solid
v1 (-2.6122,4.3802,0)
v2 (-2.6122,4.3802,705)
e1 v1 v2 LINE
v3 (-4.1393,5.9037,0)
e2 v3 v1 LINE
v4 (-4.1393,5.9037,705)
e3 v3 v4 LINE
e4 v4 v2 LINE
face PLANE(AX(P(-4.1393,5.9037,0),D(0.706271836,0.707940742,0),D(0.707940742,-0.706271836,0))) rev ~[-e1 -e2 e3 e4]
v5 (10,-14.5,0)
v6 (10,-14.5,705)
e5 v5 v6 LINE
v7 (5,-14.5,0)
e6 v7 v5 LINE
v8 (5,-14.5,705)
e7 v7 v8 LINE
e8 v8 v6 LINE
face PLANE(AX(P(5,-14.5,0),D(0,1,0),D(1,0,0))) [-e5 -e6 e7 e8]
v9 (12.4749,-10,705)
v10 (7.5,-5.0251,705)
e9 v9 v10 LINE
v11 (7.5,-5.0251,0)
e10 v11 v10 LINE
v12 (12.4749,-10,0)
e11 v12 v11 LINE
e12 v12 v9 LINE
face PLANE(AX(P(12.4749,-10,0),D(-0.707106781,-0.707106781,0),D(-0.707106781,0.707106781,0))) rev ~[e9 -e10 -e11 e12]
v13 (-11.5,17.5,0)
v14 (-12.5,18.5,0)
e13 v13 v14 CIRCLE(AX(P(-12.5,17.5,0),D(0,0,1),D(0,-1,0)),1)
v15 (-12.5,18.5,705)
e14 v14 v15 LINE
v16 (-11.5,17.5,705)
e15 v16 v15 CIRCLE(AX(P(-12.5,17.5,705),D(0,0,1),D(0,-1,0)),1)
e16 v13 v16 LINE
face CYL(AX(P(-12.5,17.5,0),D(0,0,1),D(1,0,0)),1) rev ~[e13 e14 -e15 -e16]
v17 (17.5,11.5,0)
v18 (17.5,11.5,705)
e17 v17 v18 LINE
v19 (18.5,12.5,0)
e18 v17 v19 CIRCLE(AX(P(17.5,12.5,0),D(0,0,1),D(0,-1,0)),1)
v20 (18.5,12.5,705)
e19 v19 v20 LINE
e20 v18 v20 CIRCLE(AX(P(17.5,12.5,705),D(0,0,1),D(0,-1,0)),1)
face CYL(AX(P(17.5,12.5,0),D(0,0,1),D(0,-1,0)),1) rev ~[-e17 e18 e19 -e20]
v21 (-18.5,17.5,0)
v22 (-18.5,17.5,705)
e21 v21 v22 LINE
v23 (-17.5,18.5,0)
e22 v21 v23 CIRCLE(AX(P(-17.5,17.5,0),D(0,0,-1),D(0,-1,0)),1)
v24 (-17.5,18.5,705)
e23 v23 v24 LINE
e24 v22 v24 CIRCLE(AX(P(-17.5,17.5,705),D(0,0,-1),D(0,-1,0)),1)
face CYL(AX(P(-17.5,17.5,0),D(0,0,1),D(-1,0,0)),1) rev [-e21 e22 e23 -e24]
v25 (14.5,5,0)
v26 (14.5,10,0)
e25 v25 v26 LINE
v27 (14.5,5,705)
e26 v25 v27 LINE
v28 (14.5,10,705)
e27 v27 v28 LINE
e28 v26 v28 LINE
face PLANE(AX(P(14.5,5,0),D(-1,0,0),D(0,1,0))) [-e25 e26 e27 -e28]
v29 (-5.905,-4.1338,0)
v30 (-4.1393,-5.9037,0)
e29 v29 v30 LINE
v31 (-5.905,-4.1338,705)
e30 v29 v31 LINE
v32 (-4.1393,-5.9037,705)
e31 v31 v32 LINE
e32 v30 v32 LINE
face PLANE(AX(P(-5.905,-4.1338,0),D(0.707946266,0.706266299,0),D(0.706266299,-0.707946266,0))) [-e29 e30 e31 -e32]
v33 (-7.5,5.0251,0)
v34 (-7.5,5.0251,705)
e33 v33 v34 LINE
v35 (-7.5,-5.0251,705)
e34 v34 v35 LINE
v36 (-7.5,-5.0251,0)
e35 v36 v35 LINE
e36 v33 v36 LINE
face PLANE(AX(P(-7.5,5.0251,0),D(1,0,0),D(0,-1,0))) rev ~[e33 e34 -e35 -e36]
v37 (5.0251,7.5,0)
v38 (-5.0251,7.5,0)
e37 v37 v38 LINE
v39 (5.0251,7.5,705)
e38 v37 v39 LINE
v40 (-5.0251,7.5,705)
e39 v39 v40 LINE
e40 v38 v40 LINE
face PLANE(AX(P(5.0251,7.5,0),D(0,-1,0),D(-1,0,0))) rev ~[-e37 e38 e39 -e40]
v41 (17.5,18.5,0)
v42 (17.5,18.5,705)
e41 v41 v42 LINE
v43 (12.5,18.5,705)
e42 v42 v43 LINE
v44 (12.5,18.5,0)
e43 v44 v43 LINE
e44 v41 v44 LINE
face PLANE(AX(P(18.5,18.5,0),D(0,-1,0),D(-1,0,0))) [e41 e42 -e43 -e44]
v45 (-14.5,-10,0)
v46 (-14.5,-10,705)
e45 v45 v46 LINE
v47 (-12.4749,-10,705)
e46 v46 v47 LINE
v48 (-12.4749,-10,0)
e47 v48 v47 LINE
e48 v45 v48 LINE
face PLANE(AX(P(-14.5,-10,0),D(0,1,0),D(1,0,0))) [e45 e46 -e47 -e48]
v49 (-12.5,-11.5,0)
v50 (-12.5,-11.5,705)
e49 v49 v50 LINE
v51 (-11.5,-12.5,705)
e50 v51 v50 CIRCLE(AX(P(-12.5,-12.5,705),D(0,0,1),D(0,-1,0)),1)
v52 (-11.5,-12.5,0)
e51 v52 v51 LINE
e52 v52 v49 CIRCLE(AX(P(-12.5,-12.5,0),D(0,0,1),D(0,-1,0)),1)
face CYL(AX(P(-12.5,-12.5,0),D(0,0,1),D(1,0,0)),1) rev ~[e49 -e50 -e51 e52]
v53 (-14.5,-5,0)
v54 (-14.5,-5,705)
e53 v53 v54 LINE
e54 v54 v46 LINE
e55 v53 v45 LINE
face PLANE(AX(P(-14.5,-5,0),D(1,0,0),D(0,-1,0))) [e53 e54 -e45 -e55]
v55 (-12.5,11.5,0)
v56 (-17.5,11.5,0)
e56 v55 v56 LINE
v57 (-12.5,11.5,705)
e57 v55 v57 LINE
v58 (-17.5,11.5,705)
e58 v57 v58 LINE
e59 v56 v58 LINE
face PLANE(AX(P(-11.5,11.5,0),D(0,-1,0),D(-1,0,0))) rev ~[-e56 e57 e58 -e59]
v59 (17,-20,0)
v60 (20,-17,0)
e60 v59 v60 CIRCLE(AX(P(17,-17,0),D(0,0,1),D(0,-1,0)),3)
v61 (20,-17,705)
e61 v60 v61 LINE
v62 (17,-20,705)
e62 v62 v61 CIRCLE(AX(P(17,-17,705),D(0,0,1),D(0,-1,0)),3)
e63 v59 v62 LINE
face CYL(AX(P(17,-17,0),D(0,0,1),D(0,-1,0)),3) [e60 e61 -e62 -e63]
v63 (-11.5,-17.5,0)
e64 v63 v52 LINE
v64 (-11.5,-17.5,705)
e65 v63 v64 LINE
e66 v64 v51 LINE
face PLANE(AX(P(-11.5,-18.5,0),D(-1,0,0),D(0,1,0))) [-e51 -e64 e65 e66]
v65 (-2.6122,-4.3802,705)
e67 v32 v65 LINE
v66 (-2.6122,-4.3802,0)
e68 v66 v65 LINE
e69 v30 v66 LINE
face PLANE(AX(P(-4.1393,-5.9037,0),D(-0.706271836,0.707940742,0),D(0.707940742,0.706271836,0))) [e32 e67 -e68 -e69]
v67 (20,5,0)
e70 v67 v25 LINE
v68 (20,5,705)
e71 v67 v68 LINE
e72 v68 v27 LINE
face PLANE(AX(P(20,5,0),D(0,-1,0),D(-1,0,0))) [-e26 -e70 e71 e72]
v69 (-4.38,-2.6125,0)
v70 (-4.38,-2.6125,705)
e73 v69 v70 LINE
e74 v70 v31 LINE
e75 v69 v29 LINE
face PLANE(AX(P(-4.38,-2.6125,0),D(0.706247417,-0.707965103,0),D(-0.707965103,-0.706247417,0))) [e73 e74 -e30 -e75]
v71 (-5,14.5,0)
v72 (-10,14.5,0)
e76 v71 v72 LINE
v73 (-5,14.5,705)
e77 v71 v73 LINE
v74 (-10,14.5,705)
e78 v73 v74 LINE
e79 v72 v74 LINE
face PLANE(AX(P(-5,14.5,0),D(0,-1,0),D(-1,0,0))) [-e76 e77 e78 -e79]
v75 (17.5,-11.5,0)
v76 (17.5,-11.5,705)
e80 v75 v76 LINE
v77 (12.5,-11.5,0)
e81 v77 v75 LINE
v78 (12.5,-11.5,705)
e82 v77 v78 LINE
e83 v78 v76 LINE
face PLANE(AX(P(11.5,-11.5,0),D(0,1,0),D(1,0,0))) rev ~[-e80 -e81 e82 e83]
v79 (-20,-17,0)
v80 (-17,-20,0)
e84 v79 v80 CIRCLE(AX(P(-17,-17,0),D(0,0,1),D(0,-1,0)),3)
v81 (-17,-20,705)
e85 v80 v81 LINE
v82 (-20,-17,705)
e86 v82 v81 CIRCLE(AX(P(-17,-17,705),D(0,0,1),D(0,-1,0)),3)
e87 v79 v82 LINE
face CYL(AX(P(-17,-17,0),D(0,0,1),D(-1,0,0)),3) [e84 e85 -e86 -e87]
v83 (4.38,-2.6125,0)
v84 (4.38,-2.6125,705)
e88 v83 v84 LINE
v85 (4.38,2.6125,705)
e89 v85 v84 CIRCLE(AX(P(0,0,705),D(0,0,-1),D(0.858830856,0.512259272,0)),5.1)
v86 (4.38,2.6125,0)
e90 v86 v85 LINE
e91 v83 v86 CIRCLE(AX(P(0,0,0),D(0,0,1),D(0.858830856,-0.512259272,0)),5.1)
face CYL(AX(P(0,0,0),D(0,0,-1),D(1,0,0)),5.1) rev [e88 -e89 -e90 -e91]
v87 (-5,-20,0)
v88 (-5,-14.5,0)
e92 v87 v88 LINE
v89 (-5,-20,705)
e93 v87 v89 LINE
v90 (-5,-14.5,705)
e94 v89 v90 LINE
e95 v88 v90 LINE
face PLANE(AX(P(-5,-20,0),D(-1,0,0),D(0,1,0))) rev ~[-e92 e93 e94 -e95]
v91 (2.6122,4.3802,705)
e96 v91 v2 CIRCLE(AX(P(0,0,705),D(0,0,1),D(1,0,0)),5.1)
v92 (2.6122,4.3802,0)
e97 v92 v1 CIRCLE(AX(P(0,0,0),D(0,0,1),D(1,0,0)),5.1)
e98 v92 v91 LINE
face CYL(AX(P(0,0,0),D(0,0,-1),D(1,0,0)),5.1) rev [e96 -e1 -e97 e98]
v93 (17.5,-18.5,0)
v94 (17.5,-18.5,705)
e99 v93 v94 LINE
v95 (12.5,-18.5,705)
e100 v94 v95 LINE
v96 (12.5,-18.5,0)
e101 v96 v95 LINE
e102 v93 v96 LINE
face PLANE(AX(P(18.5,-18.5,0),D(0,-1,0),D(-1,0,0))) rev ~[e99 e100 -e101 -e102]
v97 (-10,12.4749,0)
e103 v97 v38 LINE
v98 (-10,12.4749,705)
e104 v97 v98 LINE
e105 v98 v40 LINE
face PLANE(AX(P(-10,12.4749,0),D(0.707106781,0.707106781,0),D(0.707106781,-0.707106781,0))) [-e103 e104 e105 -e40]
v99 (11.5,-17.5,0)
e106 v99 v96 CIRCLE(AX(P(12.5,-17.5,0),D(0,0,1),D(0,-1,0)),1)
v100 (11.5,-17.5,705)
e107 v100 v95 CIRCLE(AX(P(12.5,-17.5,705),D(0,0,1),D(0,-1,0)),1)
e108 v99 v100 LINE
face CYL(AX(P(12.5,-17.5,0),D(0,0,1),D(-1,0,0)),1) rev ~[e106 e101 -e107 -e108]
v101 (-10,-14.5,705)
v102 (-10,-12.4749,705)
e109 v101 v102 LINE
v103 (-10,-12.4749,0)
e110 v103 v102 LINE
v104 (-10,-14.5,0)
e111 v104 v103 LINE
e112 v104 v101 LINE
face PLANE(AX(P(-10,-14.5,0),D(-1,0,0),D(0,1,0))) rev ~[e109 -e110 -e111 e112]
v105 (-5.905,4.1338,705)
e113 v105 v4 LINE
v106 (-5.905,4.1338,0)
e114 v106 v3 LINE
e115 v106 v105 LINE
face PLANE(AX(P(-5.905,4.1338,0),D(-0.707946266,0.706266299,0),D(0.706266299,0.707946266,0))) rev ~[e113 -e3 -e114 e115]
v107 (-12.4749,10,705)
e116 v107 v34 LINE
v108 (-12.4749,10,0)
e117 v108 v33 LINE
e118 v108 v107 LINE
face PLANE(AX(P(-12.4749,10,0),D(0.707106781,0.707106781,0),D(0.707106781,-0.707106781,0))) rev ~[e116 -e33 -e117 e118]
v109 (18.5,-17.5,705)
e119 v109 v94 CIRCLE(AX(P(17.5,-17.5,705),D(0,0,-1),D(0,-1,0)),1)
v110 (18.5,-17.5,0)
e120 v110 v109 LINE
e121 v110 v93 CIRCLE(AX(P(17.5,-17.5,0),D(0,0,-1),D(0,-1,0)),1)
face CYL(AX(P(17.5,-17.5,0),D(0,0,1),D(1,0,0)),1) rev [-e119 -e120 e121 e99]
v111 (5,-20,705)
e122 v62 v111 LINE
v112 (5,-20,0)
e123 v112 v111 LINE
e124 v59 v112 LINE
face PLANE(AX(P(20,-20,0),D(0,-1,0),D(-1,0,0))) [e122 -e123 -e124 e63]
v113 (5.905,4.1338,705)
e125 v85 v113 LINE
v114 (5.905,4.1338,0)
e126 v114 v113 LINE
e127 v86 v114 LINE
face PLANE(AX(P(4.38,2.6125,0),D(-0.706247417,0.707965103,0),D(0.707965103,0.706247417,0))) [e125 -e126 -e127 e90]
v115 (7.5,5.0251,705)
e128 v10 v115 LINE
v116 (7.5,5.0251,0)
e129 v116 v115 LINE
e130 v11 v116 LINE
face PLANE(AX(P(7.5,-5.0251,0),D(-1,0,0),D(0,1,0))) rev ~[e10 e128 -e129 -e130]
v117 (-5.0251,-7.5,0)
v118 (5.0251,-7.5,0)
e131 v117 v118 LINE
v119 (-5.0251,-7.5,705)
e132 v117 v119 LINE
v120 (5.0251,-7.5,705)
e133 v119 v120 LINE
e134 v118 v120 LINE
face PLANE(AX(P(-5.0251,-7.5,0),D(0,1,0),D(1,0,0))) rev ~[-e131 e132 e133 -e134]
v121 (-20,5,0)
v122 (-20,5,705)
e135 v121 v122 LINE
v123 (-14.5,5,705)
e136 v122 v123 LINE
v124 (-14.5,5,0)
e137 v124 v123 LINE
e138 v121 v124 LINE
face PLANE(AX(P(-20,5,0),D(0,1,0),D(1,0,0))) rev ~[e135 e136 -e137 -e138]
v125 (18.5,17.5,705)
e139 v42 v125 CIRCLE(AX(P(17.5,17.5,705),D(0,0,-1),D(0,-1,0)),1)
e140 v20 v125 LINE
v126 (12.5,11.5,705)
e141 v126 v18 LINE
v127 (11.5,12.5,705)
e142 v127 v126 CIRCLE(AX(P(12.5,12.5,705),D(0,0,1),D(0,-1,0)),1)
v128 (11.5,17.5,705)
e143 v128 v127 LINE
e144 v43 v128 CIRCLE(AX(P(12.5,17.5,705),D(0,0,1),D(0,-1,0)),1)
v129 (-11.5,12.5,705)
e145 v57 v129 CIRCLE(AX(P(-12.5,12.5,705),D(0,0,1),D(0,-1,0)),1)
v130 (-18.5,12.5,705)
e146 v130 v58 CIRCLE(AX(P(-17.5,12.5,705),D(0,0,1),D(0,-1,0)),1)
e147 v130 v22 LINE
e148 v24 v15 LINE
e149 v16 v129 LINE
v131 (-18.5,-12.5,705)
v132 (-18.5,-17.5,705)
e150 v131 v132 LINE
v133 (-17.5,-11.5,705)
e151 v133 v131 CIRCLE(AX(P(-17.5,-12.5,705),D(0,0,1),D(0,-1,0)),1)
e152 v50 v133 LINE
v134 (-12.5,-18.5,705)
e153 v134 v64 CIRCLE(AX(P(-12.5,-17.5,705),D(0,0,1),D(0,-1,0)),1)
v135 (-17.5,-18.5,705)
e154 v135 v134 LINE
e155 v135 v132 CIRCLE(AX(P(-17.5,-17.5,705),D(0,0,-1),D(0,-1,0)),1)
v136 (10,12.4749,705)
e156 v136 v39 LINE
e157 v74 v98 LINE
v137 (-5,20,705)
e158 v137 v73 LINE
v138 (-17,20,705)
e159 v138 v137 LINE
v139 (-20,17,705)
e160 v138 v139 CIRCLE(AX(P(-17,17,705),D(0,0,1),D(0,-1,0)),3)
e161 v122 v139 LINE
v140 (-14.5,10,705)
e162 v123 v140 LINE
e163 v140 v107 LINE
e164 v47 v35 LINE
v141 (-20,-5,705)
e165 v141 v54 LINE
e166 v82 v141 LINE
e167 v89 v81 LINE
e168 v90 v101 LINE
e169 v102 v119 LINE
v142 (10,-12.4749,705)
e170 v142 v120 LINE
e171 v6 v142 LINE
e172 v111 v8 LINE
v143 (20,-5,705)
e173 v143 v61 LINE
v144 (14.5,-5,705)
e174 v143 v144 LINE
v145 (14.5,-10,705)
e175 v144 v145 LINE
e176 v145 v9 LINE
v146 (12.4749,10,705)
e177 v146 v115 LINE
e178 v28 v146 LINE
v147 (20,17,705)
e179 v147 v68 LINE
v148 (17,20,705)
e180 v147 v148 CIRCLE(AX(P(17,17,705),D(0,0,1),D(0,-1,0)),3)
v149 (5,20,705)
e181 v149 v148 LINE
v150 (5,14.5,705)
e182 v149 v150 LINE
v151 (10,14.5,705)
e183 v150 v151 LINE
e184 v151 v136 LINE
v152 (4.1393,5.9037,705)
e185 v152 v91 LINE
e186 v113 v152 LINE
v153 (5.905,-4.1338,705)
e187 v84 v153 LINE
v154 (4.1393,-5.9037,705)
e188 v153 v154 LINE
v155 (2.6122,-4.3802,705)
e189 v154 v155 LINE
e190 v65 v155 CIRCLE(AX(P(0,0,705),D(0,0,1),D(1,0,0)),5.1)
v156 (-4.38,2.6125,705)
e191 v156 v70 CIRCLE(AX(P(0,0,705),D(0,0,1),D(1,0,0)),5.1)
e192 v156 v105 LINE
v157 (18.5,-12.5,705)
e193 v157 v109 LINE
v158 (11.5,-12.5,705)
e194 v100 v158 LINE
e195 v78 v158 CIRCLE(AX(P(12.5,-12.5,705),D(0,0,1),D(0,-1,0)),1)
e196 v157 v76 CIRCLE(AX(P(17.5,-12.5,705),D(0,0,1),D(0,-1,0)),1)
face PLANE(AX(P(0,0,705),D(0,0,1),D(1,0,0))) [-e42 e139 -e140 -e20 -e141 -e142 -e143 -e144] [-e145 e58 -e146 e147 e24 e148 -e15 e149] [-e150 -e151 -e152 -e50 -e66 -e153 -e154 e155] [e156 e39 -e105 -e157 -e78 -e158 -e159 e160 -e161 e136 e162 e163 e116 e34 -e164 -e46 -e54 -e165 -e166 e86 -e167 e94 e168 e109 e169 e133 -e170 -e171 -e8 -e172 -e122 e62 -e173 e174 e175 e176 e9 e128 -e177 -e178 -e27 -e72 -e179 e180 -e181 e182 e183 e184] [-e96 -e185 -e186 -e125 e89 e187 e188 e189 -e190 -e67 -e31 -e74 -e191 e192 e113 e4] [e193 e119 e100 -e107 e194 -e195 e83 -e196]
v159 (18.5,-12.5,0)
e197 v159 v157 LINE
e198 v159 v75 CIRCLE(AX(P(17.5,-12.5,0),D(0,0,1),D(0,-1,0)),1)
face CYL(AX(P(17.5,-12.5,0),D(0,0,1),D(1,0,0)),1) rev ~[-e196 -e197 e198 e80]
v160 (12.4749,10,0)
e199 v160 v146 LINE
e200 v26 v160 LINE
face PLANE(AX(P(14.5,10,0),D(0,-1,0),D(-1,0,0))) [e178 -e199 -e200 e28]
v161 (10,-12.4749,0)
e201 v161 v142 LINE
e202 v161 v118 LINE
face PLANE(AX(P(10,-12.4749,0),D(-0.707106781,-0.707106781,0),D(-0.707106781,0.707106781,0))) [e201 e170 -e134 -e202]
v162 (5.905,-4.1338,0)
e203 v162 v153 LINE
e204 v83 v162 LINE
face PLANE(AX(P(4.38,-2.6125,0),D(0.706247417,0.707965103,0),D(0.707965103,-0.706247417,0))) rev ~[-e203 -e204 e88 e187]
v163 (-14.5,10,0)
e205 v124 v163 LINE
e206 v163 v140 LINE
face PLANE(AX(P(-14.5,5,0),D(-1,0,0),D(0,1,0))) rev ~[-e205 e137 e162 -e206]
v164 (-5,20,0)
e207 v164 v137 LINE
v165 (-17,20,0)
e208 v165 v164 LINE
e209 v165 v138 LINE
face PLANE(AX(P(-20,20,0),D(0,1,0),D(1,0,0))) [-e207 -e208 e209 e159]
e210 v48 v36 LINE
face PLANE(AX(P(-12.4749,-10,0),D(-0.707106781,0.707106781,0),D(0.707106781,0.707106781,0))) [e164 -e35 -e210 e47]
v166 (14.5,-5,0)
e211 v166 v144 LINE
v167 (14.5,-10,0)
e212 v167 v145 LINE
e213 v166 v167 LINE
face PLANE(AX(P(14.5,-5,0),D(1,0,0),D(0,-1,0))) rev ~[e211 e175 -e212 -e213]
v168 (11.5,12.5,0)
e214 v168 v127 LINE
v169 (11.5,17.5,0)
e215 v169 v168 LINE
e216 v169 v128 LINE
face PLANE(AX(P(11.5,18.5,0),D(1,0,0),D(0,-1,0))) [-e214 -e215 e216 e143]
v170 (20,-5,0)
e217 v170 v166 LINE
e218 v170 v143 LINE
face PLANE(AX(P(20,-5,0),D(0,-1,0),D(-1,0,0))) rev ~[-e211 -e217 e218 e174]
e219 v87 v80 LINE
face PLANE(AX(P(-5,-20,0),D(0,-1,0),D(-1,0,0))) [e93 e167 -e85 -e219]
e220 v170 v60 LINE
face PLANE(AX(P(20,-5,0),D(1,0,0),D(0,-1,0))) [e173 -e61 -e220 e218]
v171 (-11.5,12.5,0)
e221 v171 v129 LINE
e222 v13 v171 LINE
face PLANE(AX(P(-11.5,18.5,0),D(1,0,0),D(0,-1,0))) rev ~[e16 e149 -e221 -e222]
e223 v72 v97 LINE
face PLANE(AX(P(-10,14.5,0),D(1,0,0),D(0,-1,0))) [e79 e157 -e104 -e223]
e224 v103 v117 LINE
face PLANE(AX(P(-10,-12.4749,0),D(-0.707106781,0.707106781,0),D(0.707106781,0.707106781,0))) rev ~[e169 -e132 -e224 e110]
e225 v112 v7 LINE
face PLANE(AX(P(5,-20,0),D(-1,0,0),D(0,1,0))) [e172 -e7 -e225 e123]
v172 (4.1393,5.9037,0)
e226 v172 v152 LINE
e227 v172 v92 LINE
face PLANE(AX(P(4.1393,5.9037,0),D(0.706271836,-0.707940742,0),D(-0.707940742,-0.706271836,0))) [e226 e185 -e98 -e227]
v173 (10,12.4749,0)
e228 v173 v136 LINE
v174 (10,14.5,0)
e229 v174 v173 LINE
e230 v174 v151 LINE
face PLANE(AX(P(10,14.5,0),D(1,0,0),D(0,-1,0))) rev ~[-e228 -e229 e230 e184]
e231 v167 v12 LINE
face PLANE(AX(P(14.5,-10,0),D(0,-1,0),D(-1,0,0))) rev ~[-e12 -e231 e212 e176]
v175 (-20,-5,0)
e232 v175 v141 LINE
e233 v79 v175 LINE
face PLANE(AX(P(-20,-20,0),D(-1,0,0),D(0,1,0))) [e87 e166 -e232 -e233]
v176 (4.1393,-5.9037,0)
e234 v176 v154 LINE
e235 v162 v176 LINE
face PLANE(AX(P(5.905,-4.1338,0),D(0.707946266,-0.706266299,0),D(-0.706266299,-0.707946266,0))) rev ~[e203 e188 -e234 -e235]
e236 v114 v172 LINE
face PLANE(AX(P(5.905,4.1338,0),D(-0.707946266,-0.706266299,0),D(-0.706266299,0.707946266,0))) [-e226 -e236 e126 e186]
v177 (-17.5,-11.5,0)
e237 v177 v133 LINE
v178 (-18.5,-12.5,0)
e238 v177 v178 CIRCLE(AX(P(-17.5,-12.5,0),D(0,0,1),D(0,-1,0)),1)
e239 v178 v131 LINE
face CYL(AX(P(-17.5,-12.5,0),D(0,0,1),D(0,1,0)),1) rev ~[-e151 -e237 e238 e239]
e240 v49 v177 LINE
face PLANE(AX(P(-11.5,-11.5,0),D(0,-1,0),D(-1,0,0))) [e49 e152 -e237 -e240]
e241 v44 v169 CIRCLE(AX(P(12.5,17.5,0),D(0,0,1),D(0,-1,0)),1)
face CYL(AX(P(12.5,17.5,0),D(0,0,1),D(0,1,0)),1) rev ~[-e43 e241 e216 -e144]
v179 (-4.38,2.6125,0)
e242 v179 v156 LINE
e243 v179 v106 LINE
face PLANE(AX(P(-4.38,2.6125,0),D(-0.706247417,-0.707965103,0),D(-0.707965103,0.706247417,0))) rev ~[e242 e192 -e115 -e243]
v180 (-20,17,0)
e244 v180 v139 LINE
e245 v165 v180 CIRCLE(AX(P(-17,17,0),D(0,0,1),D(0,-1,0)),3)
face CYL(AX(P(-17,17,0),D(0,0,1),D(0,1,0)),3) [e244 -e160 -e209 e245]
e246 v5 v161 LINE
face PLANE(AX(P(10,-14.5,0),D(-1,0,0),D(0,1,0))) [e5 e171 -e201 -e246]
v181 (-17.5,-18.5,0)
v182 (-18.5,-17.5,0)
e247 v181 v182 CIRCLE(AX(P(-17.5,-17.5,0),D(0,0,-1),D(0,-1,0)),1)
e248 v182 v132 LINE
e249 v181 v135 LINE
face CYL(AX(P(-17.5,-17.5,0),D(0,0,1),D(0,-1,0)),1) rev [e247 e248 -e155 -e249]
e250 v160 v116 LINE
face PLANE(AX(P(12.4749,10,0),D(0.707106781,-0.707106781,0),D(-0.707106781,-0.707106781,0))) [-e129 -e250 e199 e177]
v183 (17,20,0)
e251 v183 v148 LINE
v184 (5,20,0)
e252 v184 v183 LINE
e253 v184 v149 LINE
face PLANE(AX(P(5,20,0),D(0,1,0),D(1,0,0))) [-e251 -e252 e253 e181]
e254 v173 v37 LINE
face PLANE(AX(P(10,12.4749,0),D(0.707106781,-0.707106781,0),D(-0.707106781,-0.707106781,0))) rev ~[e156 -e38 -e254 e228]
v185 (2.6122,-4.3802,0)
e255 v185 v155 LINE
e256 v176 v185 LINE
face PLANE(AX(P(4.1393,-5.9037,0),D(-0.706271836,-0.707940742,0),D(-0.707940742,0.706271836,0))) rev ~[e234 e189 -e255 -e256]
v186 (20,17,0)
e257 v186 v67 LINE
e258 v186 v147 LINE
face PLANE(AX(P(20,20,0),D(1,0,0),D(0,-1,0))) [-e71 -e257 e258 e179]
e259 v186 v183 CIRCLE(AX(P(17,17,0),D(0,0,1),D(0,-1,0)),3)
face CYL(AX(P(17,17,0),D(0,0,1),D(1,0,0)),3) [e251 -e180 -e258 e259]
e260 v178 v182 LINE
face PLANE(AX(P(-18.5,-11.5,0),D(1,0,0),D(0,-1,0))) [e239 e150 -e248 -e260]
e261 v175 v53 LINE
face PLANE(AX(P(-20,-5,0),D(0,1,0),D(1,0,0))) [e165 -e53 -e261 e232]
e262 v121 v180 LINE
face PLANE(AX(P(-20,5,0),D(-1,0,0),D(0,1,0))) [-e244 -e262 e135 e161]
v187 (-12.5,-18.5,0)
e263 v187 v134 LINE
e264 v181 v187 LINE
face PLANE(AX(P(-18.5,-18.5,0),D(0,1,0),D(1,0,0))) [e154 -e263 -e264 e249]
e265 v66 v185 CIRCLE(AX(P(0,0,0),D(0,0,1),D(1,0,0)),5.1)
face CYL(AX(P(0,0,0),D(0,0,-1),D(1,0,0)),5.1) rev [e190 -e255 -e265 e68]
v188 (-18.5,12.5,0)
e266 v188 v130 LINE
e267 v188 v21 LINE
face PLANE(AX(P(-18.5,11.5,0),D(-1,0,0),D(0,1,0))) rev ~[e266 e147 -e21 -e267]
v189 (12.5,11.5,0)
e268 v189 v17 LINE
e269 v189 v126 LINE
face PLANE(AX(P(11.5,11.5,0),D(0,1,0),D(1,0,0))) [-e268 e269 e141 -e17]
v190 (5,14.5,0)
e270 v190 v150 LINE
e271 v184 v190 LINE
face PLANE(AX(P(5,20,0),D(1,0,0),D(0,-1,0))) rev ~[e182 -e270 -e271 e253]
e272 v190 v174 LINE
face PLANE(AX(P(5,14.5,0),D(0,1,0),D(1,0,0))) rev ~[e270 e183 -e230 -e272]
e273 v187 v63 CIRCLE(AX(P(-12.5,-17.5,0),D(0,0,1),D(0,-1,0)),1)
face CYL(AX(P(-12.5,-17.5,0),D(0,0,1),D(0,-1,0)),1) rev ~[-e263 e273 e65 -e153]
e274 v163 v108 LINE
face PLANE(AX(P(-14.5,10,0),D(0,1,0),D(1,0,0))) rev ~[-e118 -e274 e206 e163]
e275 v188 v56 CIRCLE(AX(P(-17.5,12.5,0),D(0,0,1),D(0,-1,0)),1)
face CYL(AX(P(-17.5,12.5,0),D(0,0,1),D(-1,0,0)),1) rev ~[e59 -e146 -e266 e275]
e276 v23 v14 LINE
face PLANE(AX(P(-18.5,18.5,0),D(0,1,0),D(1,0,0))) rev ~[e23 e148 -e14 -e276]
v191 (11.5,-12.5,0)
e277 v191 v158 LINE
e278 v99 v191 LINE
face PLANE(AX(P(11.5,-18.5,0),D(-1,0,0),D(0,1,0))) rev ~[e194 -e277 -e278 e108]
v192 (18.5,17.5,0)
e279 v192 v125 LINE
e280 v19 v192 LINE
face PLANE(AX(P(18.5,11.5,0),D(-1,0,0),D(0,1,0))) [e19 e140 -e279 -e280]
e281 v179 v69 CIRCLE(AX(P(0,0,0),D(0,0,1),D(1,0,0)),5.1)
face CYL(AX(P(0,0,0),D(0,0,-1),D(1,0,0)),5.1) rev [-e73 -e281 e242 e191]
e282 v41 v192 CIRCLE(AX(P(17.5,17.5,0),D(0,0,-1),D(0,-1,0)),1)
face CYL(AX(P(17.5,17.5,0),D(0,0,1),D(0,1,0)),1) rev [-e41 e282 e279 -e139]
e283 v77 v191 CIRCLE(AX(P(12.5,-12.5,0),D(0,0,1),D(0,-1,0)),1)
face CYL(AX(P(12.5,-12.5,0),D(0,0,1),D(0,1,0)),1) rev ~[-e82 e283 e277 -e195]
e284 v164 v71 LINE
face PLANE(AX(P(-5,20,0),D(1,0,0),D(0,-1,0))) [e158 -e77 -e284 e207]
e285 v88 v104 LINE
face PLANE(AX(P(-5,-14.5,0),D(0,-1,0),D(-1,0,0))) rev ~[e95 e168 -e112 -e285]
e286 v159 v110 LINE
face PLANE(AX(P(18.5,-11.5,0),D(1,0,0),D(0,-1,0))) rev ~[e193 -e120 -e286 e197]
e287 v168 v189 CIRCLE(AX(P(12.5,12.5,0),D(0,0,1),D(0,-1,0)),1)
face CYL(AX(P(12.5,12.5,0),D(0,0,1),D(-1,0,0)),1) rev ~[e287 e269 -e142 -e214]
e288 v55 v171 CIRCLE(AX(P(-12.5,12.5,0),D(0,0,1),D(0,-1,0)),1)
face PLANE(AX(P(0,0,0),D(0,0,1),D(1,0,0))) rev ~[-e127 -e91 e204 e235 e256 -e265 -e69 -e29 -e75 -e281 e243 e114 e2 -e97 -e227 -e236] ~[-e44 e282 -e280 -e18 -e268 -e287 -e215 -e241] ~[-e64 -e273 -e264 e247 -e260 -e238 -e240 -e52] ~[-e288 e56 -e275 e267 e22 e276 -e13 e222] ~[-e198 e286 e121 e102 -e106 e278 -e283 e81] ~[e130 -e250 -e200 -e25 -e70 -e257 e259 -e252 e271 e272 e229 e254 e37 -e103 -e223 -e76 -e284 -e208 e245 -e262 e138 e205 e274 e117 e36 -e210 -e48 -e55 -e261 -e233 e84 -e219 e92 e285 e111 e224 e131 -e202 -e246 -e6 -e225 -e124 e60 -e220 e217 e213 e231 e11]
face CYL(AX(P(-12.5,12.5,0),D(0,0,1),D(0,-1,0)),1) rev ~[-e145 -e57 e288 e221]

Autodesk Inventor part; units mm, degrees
ref_plane "YZ Plane" through (0, 0, 0) normal (1, 0, 0) x (0, 1, 0)
ref_plane "XZ Plane" through (0, 0, 0) normal (0, 1, 0) x (-1, 0, 0)
ref_plane "XY Plane" through (0, 0, 0) normal (0, 0, 1) x (1, 0, 0)
sketch "T-Slot 4040 Base" plane through (0, 0, 0) normal (0, 0, 1) x (1, 0, 0)
  line L0 (-28, 0) -> (28, 0) construction
  line L1 (0, -28) -> (0, 28) construction
  circle A0 centre (0, 0) radius 5.1
  line L2 (-7.5, -7.5) -> (7.5, -7.5)
  line L3 (7.5, -7.5) -> (7.5, 7.5)
  line L4 (7.5, 7.5) -> (-7.5, 7.5)
  line L5 (-7.5, 7.5) -> (-7.5, -7.5)
  line L6 (-7.5, -7.5) -> (7.5, 7.5) construction
  line L7 (7.5, -7.5) -> (-7.5, 7.5) construction
  line L8 (-20, 20) -> (20, 20)
  line L9 (20, 20) -> (20, -20)
  line L10 (20, -20) -> (-20, -20)
  line L11 (-20, -20) -> (-20, 20)
  line L12 (-20, 20) -> (20, -20) construction
  line L13 (20, 20) -> (-20, -20) construction
  line L14 (20, 5) -> (14.5, 5)
  line L15 (14.5, 5) -> (14.5, 10)
  line L16 (14.5, 10) -> (12.4749, 10)
  line L17 (12.4749, 10) -> (7.5, 5.0251)
  line L18 (5, 20) -> (5, 14.5)
  line L19 (5, 14.5) -> (10, 14.5)
  line L20 (10, 14.5) -> (10, 12.4749)
  line L21 (10, 12.4749) -> (5.0251, 7.5)
  line L22 (18.5, 18.5) -> (11.5, 18.5)
  line L23 (11.5, 18.5) -> (11.5, 11.5)
  line L24 (11.5, 11.5) -> (18.5, 11.5)
  line L25 (18.5, 11.5) -> (18.5, 18.5)
  line L26 (18.5, 18.5) -> (11.5, 11.5) construction
  line L27 (11.5, 18.5) -> (18.5, 11.5) construction
  line L28 (3.0732, 1.3088) -> (4.38, 2.6125) construction
  line L29 (5.905, 4.1338) -> (4.1393, 5.9037)
  line L30 (4.1393, 5.9037) -> (2.6122, 4.3802)
  line L31 (1.3075, 3.0787) -> (3.0732, 1.3088) construction
  line L32 (3.0732, 1.3088) -> (4.1393, 5.9037) construction
  line L33 (5.905, 4.1338) -> (1.3075, 3.0787) construction
  line L34 (4.38, 2.6125) -> (5.905, 4.1338)
  line L35 (2.6122, 4.3802) -> (1.3075, 3.0787) construction
  line L36 (-20, 5) -> (-14.5, 5)
  line L37 (-14.5, 5) -> (-14.5, 10)
  line L38 (-14.5, 10) -> (-12.4749, 10)
  line L39 (-12.4749, 10) -> (-7.5, 5.0251)
  line L40 (-5, 20) -> (-5, 14.5)
  line L41 (-5, 14.5) -> (-10, 14.5)
  line L42 (-10, 14.5) -> (-10, 12.4749)
  line L43 (-10, 12.4749) -> (-5.0251, 7.5)
  line L44 (-18.5, 18.5) -> (-11.5, 18.5)
  line L45 (-11.5, 18.5) -> (-11.5, 11.5)
  line L46 (-11.5, 11.5) -> (-18.5, 11.5)
  line L47 (-18.5, 11.5) -> (-18.5, 18.5)
  line L48 (-5.905, 4.1338) -> (-4.1393, 5.9037)
  line L49 (-4.1393, 5.9037) -> (-2.6122, 4.3802)
  line L50 (-4.38, 2.6125) -> (-5.905, 4.1338)
  line L51 (7.5, -7.5) -> (-7.5, -7.5)
  line L52 (20, -5) -> (14.5, -5)
  line L53 (14.5, -5) -> (14.5, -10)
  line L54 (14.5, -10) -> (12.4749, -10)
  line L55 (12.4749, -10) -> (7.5, -5.0251)
  line L56 (5, -20) -> (5, -14.5)
  line L57 (5, -14.5) -> (10, -14.5)
  line L58 (10, -14.5) -> (10, -12.4749)
  line L59 (10, -12.4749) -> (5.0251, -7.5)
  line L60 (18.5, -18.5) -> (11.5, -18.5)
  line L61 (11.5, -18.5) -> (11.5, -11.5)
  line L62 (11.5, -11.5) -> (18.5, -11.5)
  line L63 (18.5, -11.5) -> (18.5, -18.5)
  line L64 (18.5, -18.5) -> (11.5, -11.5) construction
  line L65 (11.5, -18.5) -> (18.5, -11.5) construction
  line L66 (3.0732, -1.3088) -> (4.38, -2.6125) construction
  line L67 (5.905, -4.1338) -> (4.1393, -5.9037)
  line L68 (4.1393, -5.9037) -> (2.6122, -4.3802)
  line L69 (1.3075, -3.0787) -> (3.0732, -1.3088) construction
  line L70 (3.0732, -1.3088) -> (4.1393, -5.9037) construction
  line L71 (5.905, -4.1338) -> (1.3075, -3.0787) construction
  line L72 (4.38, -2.6125) -> (5.905, -4.1338)
  line L73 (2.6122, -4.3802) -> (1.3075, -3.0787) construction
  line L74 (-4.38, -2.6125) -> (-5.905, -4.1338)
  line L75 (-4.1393, -5.9037) -> (-2.6122, -4.3802)
  line L76 (-5.905, -4.1338) -> (-4.1393, -5.9037)
  line L77 (-12.4749, -10) -> (-7.5, -5.0251)
  line L78 (-10, -12.4749) -> (-5.0251, -7.5)
  line L79 (-10, -14.5) -> (-10, -12.4749)
  line L80 (-5, -14.5) -> (-10, -14.5)
  line L81 (-5, -20) -> (-5, -14.5)
  line L82 (-18.5, -18.5) -> (-11.5, -18.5)
  line L83 (-11.5, -18.5) -> (-11.5, -11.5)
  line L84 (-11.5, -11.5) -> (-18.5, -11.5)
  line L85 (-18.5, -11.5) -> (-18.5, -18.5)
  line L86 (-14.5, -10) -> (-12.4749, -10)
  line L87 (-14.5, -5) -> (-14.5, -10)
  line L88 (-20, -5) -> (-14.5, -5)
  point P0 (15, 15)
  point P1 (3.6062, 3.6062)
  point P2 (3.6062, 3.6062)
  point P3 (15, -15)
  point P4 (3.6062, -3.6062)
  point P5 (3.6062, -3.6062)
  dimension "d9" = 10.2
  dimension "d12" = 40
  dimension "d13" = 40
  dimension "d14" = 5.5
  dimension "d15" = 15
  dimension "d16" = 7
  dimension "d17" = 10
  dimension "d20" = 1.75
  dimension "d21" = 7
  dimension "d22" = 2
  dimension "d29" = 1.5
  dimension "d30" = 2.5
extrude "Extrusion1" add sketch "T-Slot 4040 Base" along normal blind 705 contours L5 L4 L3 L2 | L2 L78 L79 L80 L81 L10 L11 L88 L87 L86 L77 L5 | L2 L3 L55 L54 L53 L52 L9 L10 L56 L57 L58 L59 | L39 L38 L37 L36 L11 L8 L40 L41 L42 L43 L4 L5 | L3 L4 L21 L20 L19 L18 L8 L9 L14 L15 L16 L17
fillet "Rundung1" radius 1 16 edges at (11.5, 18.5, 352.5) (18.5, 18.5, 352.5) (18.5, 11.5, 352.5) (11.5, 11.5, 352.5) (-11.5, 18.5, 352.5) (-18.5, 18.5, 352.5) (-18.5, 11.5, 352.5) (-11.5, 11.5, 352.5) (-18.5, -11.5, 352.5) (-11.5, -11.5, 352.5) (-11.5, -18.5, 352.5) (-18.5, -18.5, 352.5) (11.5, -18.5, 352.5) (11.5, -11.5, 352.5) (18.5, -11.5, 352.5) (18.5, -18.5, 352.5)
fillet "Rundung2" radius 3 4 edges at (20, 20, 352.5) (20, -20, 352.5) (-20, -20, 352.5) (-20, 20, 352.5)
properties part number "T-SLOT 4040 B-Type 705mm"
